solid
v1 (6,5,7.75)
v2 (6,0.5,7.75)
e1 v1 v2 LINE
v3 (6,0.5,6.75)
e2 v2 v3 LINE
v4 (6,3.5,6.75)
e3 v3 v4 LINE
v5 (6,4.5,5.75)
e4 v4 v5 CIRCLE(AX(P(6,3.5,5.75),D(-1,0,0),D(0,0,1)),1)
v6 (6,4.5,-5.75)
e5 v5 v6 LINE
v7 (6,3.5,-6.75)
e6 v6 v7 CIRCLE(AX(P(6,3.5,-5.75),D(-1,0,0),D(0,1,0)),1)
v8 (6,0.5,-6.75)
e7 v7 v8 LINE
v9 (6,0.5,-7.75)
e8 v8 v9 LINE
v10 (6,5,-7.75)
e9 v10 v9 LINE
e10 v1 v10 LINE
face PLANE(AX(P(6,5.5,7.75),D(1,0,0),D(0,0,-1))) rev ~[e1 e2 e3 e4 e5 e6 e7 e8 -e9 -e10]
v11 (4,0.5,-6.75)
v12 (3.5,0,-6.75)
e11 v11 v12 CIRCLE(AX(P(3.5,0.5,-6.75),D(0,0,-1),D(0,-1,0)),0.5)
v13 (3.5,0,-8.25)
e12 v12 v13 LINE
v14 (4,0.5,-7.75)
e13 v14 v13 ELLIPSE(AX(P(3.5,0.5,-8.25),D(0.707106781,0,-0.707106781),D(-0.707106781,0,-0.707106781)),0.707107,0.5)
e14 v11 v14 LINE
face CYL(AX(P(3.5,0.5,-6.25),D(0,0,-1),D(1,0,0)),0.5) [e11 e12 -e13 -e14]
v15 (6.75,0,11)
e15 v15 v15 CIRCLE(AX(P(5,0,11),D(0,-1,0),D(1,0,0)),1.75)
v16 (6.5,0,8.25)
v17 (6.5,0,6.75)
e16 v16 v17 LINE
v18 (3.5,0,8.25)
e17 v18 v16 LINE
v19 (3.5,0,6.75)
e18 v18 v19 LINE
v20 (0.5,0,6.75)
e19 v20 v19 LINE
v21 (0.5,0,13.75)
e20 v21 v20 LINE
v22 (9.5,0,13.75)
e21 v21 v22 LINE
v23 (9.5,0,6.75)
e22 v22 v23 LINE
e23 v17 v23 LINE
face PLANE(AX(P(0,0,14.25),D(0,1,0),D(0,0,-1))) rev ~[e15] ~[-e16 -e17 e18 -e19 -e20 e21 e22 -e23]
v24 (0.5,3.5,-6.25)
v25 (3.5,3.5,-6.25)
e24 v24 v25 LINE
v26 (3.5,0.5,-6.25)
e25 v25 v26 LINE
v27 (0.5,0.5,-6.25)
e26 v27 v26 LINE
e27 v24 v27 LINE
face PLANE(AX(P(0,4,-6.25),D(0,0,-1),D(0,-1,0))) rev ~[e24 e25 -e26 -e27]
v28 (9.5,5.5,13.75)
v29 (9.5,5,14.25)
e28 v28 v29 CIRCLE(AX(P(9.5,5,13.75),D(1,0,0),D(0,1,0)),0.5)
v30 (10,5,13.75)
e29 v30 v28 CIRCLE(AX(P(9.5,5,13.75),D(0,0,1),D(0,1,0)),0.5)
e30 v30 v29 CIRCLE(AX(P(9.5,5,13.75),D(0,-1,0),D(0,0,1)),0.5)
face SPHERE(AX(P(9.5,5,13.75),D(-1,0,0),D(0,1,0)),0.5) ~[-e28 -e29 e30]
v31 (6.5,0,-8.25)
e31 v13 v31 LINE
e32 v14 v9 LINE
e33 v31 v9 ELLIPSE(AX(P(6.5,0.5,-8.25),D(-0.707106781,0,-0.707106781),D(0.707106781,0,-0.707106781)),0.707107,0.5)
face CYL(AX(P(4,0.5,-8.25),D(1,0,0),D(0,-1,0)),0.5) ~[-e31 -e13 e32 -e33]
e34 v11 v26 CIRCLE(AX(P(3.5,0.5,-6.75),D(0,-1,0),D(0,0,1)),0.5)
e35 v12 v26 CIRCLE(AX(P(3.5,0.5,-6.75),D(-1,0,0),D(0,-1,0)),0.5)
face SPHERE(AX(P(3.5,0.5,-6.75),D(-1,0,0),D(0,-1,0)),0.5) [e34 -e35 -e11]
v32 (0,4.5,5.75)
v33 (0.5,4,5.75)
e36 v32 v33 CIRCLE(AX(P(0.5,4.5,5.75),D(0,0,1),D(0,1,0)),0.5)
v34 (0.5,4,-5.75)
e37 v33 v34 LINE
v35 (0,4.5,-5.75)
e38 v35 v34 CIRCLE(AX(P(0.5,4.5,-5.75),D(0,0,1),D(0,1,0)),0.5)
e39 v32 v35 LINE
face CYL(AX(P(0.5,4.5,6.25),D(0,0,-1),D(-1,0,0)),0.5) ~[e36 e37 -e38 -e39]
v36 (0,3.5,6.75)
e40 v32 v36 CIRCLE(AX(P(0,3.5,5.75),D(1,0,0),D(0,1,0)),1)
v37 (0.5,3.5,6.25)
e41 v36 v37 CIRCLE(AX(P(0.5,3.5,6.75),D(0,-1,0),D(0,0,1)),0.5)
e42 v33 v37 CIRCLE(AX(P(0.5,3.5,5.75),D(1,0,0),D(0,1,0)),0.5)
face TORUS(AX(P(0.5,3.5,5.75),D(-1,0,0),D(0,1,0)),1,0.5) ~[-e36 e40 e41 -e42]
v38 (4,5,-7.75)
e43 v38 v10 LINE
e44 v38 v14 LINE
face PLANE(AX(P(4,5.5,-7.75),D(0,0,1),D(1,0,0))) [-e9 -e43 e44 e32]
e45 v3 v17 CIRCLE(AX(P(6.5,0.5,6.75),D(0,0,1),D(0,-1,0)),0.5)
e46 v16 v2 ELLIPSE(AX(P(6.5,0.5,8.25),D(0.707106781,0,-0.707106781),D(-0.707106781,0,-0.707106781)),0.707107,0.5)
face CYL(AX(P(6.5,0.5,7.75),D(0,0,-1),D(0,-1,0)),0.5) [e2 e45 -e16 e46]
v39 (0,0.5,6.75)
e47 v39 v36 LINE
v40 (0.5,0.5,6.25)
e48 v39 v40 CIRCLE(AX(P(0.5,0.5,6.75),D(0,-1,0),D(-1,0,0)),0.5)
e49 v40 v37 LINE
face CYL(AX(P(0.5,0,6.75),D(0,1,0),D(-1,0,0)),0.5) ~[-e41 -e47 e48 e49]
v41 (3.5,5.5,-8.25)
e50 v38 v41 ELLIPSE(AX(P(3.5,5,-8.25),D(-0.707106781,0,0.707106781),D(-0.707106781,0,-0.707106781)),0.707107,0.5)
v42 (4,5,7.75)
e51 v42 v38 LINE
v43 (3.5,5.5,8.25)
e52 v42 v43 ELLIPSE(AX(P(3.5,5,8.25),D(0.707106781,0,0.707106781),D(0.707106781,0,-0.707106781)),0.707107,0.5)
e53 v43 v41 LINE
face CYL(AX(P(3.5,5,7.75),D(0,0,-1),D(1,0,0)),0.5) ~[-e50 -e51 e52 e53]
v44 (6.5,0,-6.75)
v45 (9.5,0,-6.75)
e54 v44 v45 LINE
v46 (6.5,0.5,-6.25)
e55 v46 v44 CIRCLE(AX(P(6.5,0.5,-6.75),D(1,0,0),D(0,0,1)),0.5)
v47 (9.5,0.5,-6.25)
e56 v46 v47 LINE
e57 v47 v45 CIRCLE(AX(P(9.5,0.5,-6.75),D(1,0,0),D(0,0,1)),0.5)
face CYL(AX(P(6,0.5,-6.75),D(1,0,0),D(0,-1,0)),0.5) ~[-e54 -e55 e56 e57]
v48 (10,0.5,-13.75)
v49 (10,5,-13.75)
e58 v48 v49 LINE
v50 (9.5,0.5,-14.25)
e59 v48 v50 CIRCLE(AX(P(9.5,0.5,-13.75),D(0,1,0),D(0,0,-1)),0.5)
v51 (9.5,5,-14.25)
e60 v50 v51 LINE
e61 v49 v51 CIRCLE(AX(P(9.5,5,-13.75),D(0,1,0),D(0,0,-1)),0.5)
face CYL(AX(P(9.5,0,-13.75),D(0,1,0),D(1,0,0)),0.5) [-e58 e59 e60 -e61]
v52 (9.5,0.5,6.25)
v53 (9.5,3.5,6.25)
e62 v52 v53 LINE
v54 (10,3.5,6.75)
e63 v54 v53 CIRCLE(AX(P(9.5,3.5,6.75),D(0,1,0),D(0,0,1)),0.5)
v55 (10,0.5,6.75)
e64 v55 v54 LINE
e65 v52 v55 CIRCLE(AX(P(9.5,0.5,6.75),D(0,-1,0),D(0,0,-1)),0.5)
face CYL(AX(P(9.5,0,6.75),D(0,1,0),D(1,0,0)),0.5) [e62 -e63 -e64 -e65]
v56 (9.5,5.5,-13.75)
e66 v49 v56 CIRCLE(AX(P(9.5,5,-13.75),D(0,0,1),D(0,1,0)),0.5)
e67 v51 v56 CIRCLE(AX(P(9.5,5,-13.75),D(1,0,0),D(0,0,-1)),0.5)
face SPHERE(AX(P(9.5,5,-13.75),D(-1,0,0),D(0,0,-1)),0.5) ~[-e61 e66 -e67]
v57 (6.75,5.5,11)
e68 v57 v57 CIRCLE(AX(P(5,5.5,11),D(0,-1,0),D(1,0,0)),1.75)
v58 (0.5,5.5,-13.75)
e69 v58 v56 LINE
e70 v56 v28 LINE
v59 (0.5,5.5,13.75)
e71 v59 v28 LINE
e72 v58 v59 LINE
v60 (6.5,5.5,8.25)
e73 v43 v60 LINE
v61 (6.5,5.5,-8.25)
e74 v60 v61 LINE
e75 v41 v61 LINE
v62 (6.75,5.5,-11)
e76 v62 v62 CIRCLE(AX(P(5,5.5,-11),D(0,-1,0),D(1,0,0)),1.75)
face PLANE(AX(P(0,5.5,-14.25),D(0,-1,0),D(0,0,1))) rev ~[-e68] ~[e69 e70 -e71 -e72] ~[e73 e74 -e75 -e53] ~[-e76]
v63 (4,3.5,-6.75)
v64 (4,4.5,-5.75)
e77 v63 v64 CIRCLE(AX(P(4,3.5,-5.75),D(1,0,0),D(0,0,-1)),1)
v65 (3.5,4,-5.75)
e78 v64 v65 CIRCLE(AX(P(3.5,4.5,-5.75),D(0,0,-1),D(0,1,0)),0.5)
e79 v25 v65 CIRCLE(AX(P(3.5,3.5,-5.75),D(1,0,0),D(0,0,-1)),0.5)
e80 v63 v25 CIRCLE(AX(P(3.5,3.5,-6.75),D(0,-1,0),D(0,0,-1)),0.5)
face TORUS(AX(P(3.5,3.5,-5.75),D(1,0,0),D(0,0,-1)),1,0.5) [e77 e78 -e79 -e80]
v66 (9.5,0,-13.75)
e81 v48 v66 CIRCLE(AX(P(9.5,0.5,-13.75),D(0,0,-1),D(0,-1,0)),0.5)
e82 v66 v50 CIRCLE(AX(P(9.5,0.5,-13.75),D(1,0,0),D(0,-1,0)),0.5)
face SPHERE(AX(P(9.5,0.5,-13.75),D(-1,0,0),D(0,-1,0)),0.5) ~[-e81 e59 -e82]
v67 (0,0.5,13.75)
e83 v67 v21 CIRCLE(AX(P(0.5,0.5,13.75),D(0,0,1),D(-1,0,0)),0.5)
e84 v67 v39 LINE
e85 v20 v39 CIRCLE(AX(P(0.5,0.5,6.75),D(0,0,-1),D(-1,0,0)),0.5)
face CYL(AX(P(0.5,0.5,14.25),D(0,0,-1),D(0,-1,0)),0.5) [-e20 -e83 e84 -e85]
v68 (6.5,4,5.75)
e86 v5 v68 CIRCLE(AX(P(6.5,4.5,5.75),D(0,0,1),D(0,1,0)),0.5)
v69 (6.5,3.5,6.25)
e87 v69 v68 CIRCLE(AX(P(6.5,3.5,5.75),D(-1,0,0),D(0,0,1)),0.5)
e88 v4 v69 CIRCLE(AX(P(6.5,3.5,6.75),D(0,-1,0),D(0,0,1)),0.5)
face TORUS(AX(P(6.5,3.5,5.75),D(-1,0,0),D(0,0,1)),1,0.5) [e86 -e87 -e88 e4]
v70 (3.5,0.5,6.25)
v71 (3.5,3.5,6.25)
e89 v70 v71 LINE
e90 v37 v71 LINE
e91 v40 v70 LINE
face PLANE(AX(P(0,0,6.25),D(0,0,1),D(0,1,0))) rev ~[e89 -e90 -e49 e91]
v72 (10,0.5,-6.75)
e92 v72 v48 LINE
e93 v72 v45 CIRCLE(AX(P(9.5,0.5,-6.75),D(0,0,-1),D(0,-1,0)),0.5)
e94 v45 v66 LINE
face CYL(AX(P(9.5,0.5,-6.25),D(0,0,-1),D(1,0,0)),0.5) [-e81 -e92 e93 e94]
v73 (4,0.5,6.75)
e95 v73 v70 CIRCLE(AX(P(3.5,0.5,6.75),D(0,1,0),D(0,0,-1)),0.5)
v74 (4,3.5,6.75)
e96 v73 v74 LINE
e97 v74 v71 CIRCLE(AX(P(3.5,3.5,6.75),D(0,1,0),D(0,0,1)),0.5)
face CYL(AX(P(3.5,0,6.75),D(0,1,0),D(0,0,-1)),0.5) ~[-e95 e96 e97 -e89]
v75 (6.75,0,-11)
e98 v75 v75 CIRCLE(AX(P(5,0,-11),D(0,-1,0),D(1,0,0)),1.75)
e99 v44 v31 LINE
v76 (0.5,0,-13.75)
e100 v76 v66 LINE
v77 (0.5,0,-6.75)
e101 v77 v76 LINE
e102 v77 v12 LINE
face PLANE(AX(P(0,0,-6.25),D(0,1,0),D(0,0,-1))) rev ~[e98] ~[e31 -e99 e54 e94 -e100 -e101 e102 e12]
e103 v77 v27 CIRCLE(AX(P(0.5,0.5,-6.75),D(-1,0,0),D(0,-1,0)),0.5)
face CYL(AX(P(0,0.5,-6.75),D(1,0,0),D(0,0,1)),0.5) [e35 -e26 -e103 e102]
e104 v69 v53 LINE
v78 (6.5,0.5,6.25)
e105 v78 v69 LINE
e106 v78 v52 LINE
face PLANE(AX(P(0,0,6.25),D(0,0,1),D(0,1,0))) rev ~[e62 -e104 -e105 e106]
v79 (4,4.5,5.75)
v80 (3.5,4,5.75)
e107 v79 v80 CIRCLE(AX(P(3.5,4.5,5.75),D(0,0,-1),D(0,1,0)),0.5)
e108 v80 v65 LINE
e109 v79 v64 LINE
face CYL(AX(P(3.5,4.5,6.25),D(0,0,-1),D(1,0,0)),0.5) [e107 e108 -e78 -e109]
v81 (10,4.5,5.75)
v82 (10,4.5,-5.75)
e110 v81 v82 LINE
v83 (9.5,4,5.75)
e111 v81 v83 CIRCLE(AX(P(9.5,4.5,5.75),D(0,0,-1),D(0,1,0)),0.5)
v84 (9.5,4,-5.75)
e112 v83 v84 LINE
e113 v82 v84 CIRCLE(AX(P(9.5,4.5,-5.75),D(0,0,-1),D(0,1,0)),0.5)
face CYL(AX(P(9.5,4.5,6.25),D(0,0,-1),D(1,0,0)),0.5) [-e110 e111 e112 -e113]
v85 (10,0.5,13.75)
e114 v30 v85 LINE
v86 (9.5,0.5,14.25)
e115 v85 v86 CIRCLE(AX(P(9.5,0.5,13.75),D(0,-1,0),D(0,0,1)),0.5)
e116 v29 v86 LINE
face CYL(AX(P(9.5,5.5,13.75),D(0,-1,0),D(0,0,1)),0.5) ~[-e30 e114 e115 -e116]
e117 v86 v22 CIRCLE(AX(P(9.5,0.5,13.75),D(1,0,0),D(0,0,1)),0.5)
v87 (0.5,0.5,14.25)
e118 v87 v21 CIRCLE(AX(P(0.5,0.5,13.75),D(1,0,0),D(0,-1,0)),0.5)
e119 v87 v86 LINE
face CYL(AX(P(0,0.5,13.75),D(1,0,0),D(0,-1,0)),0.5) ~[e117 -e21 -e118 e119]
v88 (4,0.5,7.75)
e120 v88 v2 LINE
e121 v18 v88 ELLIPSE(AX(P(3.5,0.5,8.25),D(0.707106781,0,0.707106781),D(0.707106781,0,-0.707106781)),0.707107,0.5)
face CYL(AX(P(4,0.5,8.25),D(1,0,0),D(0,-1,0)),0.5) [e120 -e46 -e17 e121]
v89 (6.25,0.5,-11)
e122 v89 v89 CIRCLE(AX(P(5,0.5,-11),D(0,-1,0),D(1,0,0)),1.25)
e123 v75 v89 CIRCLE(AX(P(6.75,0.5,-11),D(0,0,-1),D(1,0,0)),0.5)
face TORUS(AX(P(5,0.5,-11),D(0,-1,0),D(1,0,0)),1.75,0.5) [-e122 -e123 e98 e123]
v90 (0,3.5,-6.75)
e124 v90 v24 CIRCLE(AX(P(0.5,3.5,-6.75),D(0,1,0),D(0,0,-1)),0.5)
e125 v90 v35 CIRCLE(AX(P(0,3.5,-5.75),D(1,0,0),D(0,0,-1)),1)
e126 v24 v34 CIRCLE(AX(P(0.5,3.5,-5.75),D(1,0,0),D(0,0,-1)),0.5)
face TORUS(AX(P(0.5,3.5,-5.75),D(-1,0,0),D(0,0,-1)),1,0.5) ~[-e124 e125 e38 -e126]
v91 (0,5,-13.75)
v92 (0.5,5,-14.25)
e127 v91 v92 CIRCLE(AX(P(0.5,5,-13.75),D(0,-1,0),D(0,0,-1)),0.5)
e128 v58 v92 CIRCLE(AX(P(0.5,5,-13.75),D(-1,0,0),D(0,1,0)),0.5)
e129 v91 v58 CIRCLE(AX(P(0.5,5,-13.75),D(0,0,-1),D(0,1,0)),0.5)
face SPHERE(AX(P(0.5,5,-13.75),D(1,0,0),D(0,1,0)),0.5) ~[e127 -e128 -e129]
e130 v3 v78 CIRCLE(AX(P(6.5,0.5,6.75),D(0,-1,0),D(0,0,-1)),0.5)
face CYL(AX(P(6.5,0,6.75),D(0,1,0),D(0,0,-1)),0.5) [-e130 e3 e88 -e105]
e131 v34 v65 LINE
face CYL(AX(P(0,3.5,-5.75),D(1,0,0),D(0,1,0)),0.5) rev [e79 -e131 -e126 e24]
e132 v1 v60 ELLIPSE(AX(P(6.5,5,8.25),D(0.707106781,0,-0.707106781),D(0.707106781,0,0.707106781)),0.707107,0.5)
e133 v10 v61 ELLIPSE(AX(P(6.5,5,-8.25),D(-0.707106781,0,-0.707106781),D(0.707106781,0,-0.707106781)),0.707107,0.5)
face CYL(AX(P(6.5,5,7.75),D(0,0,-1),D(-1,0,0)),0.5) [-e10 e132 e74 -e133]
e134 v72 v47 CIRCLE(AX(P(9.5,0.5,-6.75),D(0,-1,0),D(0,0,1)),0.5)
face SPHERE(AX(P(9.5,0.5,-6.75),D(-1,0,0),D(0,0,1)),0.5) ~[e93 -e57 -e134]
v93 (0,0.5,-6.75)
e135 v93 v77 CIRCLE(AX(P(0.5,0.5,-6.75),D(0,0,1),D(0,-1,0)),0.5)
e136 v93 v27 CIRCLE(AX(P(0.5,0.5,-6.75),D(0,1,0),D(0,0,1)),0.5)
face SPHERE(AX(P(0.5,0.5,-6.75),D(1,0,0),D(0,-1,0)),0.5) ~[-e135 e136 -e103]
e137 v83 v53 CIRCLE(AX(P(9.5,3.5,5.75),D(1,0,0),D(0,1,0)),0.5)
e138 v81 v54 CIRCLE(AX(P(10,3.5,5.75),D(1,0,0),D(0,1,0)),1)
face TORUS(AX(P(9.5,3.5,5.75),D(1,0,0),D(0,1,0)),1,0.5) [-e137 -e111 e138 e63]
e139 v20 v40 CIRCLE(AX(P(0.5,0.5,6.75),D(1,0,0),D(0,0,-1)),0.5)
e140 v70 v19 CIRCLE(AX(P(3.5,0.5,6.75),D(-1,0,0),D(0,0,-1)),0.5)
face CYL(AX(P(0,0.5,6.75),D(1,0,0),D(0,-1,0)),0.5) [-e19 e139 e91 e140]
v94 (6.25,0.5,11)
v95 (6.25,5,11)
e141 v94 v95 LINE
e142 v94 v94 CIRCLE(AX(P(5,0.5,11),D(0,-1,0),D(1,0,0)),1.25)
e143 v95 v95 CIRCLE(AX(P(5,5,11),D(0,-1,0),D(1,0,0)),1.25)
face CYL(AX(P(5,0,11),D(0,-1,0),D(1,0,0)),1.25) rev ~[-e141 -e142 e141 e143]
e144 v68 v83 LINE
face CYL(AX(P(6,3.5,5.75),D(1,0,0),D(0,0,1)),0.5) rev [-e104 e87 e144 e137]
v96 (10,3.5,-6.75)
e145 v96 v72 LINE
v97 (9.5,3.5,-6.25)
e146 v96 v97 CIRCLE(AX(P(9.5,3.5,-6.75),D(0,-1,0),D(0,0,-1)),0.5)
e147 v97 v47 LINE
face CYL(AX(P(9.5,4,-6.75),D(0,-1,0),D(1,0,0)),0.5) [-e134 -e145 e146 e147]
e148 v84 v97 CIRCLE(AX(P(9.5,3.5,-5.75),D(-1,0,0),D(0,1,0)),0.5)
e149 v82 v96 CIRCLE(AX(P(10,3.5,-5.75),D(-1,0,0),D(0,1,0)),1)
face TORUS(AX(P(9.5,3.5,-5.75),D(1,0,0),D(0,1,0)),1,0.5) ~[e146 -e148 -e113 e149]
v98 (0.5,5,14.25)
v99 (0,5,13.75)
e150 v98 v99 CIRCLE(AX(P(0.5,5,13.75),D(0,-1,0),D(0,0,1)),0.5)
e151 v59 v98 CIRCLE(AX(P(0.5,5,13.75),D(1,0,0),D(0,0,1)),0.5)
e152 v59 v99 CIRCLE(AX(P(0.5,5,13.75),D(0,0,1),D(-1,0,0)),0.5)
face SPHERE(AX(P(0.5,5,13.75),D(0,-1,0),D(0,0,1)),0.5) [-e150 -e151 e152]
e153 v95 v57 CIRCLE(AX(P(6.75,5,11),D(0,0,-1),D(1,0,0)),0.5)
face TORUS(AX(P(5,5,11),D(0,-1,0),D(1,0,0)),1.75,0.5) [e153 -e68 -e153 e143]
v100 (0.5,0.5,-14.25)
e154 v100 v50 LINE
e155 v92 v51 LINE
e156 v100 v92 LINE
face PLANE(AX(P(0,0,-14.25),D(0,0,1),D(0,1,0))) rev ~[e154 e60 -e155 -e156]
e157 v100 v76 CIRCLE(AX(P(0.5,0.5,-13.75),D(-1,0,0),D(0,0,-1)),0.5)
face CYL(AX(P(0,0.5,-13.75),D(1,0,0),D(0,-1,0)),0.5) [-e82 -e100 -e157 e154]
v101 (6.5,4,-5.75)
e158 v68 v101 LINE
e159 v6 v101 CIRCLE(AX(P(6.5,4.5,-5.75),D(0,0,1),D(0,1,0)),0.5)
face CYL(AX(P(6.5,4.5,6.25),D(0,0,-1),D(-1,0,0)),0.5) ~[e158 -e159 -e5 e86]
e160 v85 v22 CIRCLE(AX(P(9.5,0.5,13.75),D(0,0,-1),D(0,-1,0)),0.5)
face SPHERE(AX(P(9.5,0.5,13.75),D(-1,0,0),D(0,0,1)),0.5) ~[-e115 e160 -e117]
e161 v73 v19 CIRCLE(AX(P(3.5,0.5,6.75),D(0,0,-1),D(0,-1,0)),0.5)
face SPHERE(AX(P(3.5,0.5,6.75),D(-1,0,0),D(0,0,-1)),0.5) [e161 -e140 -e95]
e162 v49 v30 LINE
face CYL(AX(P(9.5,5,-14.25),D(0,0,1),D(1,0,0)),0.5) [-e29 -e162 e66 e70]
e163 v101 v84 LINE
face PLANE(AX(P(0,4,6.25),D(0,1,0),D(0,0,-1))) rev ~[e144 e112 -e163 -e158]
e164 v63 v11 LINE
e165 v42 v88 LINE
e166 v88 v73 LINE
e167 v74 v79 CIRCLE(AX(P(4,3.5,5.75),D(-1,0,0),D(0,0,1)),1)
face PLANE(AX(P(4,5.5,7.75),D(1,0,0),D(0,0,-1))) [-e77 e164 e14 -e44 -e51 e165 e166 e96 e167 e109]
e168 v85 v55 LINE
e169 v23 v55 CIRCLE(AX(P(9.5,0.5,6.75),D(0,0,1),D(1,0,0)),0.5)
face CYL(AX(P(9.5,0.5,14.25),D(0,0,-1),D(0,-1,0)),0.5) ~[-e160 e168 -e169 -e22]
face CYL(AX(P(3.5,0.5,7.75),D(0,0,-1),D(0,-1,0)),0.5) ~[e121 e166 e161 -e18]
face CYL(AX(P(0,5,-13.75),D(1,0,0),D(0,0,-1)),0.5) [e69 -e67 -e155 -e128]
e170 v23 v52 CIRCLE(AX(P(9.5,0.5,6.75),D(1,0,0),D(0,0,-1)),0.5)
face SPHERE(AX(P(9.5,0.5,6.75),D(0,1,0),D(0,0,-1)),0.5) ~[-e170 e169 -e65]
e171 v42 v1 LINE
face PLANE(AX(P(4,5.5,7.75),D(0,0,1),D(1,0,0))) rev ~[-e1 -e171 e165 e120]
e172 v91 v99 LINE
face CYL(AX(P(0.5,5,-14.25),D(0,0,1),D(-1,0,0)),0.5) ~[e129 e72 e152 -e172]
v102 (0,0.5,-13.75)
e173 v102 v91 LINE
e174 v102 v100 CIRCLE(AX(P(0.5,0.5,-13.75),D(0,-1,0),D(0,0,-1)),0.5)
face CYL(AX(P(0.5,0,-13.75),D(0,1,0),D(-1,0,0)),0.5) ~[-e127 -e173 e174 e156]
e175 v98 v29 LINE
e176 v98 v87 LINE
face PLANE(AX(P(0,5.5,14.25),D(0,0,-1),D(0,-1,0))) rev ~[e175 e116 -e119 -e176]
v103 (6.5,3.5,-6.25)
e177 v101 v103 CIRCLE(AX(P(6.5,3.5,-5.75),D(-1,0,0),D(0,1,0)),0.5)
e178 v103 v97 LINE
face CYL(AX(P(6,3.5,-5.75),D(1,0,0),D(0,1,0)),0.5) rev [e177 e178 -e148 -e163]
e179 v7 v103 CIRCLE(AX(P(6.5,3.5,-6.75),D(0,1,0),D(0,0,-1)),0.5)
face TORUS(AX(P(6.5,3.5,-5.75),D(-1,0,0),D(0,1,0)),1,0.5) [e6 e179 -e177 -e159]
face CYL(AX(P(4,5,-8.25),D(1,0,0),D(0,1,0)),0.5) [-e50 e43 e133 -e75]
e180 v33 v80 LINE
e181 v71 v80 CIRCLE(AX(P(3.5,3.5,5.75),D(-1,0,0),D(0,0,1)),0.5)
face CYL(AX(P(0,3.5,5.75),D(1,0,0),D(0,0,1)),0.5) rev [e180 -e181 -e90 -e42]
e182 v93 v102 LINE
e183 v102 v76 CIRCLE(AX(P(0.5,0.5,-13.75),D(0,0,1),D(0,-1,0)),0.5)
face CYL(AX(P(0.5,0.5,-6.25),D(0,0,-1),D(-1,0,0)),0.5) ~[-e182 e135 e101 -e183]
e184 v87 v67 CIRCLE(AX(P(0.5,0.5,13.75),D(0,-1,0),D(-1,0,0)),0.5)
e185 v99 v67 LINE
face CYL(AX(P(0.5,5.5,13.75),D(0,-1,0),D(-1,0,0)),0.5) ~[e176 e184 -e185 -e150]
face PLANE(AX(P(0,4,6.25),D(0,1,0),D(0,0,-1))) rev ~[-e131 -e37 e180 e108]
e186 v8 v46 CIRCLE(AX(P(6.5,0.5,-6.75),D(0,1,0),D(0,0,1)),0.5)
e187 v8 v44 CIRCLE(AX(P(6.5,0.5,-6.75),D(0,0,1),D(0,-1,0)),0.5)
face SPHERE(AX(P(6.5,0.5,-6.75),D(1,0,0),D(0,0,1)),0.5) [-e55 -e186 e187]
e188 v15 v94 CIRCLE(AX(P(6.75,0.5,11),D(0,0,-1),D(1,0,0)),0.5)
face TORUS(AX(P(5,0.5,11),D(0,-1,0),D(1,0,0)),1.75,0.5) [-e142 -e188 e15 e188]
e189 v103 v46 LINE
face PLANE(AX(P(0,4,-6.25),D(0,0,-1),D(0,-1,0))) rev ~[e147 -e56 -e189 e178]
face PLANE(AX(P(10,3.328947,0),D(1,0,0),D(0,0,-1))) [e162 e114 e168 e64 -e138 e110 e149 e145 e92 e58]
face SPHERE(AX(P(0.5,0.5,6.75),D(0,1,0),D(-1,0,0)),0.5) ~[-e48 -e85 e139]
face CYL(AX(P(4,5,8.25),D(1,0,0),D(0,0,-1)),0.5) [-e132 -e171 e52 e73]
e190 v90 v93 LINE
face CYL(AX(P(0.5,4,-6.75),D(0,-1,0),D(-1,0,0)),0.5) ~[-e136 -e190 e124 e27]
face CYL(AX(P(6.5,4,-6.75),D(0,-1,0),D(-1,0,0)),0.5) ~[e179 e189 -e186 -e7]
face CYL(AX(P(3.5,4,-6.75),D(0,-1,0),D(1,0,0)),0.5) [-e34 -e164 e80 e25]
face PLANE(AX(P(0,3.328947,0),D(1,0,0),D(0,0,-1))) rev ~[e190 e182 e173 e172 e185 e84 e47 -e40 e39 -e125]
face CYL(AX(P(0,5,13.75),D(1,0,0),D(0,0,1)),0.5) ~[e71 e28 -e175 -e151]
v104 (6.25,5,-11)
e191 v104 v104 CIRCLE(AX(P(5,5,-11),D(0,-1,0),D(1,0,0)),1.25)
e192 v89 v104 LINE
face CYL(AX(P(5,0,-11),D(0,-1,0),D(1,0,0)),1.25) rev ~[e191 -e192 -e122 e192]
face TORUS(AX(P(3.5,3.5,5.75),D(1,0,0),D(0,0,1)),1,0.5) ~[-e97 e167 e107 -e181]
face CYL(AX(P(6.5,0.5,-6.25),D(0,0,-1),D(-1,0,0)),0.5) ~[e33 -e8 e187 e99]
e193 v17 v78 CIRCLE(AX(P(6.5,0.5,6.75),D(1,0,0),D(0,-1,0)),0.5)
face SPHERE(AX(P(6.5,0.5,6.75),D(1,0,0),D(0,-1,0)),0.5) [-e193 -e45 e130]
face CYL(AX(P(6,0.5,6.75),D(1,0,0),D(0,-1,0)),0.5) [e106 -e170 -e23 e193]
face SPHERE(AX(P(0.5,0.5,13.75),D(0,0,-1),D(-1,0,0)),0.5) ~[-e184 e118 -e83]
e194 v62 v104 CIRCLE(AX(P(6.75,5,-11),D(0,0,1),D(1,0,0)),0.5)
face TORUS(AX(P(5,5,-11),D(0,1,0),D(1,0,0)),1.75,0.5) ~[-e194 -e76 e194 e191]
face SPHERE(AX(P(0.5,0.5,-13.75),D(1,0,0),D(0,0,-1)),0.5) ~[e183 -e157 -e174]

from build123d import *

# Parameters (mm, degrees)
BOSS_EXTRUDE1_DEPTH = 10
SKETCH2_W           = 2
SKETCH2_H           = 15.5
CUT_EXTRUDE1_DEPTH  = 10
SKETCH3_R           = 1.25
CUT_EXTRUDE2_DEPTH  = 10
FILLET1_R           = 0.5


with BuildPart() as part:
    # Sketch1 → Boss-Extrude1 (new body)
    with BuildSketch(Plane(origin=(0, 0, 0), x_dir=(0, 0, -1), z_dir=(1, 0, 0))):
        Polygon((-14.25, 0), (-6.25, 0), (-6.25, 4), (6.25, 4), (6.25, 0), (14.25, 0), (14.25, 5.5), (-14.25, 5.5), align=None)
    extrude(amount=BOSS_EXTRUDE1_DEPTH)

    # Sketch2 → Cut-Extrude1 (cut)
    with BuildSketch(Plane(origin=(0, 5.5, 0), x_dir=(1, 0, 0), z_dir=(0, 1, 0))):
        with Locations((5, 0)):
            Rectangle(SKETCH2_W, SKETCH2_H)
    extrude(amount=-CUT_EXTRUDE1_DEPTH, mode=Mode.SUBTRACT)

    # Sketch3 → Cut-Extrude2 (cut)
    with BuildSketch(Plane.XZ):
        with Locations((5, 11)):
            Circle(SKETCH3_R)
        with Locations((5, -11)):
            Circle(SKETCH3_R)
    extrude(amount=-CUT_EXTRUDE2_DEPTH, mode=Mode.SUBTRACT)

    # Fillet1
    fillet1_edges = [part.edges().sort_by_distance(p)[0] for p in [
        (0, 4, 0),
        (0, 2, 6.25),
        (0, 0, 10.25),
        (0, 2.75, 14.25),
        (10, 2, 6.25),
        (5, 5.5, 14.25),
        (5, 5.5, -14.25),
        (5, 0, -14.25),
        (8, 0, -6.25),
        (8, 4, -6.25),
        (8, 4, 6.25),
        (8, 0, 6.25),
        (5, 0, 14.25),
        (10, 4, 0),
        (10, 2, -6.25),
        (10, 0, -10.25),
        (2, 0, -6.25),
        (2, 4, -6.25),
        (10, 2.75, -14.25),
        (2, 4, 6.25),
        (2, 0, 6.25),
        (10, 5.5, 0),
        (4, 2, 6.25),
        (4, 0, 7),
        (4, 0, -7),
        (4, 2, -6.25),
        (4, 4, 0),
        (5, 0, -7.75),
        (6, 0, 7),
        (6, 2, 6.25),
        (6, 4, 0),
        (6, 2, -6.25),
        (6, 0, -7),
        (5, 0, 7.75),
        (4, 5.5, 0),
        (5, 5.5, 7.75),
        (6, 5.5, 0),
        (5, 5.5, -7.75),
        (10, 2.75, 14.25),
        (3.75, 5.5, 11),
        (3.75, 0, 11),
        (3.75, 5.5, -11),
        (3.75, 0, -11),
        (0, 5.5, 0),
        (10, 0, 10.25),
        (0, 2.75, -14.25),
        (0, 0, -10.25),
        (0, 2, -6.25),
    ]]
    fillet(fillet1_edges, radius=FILLET1_R)


solid = part.part
